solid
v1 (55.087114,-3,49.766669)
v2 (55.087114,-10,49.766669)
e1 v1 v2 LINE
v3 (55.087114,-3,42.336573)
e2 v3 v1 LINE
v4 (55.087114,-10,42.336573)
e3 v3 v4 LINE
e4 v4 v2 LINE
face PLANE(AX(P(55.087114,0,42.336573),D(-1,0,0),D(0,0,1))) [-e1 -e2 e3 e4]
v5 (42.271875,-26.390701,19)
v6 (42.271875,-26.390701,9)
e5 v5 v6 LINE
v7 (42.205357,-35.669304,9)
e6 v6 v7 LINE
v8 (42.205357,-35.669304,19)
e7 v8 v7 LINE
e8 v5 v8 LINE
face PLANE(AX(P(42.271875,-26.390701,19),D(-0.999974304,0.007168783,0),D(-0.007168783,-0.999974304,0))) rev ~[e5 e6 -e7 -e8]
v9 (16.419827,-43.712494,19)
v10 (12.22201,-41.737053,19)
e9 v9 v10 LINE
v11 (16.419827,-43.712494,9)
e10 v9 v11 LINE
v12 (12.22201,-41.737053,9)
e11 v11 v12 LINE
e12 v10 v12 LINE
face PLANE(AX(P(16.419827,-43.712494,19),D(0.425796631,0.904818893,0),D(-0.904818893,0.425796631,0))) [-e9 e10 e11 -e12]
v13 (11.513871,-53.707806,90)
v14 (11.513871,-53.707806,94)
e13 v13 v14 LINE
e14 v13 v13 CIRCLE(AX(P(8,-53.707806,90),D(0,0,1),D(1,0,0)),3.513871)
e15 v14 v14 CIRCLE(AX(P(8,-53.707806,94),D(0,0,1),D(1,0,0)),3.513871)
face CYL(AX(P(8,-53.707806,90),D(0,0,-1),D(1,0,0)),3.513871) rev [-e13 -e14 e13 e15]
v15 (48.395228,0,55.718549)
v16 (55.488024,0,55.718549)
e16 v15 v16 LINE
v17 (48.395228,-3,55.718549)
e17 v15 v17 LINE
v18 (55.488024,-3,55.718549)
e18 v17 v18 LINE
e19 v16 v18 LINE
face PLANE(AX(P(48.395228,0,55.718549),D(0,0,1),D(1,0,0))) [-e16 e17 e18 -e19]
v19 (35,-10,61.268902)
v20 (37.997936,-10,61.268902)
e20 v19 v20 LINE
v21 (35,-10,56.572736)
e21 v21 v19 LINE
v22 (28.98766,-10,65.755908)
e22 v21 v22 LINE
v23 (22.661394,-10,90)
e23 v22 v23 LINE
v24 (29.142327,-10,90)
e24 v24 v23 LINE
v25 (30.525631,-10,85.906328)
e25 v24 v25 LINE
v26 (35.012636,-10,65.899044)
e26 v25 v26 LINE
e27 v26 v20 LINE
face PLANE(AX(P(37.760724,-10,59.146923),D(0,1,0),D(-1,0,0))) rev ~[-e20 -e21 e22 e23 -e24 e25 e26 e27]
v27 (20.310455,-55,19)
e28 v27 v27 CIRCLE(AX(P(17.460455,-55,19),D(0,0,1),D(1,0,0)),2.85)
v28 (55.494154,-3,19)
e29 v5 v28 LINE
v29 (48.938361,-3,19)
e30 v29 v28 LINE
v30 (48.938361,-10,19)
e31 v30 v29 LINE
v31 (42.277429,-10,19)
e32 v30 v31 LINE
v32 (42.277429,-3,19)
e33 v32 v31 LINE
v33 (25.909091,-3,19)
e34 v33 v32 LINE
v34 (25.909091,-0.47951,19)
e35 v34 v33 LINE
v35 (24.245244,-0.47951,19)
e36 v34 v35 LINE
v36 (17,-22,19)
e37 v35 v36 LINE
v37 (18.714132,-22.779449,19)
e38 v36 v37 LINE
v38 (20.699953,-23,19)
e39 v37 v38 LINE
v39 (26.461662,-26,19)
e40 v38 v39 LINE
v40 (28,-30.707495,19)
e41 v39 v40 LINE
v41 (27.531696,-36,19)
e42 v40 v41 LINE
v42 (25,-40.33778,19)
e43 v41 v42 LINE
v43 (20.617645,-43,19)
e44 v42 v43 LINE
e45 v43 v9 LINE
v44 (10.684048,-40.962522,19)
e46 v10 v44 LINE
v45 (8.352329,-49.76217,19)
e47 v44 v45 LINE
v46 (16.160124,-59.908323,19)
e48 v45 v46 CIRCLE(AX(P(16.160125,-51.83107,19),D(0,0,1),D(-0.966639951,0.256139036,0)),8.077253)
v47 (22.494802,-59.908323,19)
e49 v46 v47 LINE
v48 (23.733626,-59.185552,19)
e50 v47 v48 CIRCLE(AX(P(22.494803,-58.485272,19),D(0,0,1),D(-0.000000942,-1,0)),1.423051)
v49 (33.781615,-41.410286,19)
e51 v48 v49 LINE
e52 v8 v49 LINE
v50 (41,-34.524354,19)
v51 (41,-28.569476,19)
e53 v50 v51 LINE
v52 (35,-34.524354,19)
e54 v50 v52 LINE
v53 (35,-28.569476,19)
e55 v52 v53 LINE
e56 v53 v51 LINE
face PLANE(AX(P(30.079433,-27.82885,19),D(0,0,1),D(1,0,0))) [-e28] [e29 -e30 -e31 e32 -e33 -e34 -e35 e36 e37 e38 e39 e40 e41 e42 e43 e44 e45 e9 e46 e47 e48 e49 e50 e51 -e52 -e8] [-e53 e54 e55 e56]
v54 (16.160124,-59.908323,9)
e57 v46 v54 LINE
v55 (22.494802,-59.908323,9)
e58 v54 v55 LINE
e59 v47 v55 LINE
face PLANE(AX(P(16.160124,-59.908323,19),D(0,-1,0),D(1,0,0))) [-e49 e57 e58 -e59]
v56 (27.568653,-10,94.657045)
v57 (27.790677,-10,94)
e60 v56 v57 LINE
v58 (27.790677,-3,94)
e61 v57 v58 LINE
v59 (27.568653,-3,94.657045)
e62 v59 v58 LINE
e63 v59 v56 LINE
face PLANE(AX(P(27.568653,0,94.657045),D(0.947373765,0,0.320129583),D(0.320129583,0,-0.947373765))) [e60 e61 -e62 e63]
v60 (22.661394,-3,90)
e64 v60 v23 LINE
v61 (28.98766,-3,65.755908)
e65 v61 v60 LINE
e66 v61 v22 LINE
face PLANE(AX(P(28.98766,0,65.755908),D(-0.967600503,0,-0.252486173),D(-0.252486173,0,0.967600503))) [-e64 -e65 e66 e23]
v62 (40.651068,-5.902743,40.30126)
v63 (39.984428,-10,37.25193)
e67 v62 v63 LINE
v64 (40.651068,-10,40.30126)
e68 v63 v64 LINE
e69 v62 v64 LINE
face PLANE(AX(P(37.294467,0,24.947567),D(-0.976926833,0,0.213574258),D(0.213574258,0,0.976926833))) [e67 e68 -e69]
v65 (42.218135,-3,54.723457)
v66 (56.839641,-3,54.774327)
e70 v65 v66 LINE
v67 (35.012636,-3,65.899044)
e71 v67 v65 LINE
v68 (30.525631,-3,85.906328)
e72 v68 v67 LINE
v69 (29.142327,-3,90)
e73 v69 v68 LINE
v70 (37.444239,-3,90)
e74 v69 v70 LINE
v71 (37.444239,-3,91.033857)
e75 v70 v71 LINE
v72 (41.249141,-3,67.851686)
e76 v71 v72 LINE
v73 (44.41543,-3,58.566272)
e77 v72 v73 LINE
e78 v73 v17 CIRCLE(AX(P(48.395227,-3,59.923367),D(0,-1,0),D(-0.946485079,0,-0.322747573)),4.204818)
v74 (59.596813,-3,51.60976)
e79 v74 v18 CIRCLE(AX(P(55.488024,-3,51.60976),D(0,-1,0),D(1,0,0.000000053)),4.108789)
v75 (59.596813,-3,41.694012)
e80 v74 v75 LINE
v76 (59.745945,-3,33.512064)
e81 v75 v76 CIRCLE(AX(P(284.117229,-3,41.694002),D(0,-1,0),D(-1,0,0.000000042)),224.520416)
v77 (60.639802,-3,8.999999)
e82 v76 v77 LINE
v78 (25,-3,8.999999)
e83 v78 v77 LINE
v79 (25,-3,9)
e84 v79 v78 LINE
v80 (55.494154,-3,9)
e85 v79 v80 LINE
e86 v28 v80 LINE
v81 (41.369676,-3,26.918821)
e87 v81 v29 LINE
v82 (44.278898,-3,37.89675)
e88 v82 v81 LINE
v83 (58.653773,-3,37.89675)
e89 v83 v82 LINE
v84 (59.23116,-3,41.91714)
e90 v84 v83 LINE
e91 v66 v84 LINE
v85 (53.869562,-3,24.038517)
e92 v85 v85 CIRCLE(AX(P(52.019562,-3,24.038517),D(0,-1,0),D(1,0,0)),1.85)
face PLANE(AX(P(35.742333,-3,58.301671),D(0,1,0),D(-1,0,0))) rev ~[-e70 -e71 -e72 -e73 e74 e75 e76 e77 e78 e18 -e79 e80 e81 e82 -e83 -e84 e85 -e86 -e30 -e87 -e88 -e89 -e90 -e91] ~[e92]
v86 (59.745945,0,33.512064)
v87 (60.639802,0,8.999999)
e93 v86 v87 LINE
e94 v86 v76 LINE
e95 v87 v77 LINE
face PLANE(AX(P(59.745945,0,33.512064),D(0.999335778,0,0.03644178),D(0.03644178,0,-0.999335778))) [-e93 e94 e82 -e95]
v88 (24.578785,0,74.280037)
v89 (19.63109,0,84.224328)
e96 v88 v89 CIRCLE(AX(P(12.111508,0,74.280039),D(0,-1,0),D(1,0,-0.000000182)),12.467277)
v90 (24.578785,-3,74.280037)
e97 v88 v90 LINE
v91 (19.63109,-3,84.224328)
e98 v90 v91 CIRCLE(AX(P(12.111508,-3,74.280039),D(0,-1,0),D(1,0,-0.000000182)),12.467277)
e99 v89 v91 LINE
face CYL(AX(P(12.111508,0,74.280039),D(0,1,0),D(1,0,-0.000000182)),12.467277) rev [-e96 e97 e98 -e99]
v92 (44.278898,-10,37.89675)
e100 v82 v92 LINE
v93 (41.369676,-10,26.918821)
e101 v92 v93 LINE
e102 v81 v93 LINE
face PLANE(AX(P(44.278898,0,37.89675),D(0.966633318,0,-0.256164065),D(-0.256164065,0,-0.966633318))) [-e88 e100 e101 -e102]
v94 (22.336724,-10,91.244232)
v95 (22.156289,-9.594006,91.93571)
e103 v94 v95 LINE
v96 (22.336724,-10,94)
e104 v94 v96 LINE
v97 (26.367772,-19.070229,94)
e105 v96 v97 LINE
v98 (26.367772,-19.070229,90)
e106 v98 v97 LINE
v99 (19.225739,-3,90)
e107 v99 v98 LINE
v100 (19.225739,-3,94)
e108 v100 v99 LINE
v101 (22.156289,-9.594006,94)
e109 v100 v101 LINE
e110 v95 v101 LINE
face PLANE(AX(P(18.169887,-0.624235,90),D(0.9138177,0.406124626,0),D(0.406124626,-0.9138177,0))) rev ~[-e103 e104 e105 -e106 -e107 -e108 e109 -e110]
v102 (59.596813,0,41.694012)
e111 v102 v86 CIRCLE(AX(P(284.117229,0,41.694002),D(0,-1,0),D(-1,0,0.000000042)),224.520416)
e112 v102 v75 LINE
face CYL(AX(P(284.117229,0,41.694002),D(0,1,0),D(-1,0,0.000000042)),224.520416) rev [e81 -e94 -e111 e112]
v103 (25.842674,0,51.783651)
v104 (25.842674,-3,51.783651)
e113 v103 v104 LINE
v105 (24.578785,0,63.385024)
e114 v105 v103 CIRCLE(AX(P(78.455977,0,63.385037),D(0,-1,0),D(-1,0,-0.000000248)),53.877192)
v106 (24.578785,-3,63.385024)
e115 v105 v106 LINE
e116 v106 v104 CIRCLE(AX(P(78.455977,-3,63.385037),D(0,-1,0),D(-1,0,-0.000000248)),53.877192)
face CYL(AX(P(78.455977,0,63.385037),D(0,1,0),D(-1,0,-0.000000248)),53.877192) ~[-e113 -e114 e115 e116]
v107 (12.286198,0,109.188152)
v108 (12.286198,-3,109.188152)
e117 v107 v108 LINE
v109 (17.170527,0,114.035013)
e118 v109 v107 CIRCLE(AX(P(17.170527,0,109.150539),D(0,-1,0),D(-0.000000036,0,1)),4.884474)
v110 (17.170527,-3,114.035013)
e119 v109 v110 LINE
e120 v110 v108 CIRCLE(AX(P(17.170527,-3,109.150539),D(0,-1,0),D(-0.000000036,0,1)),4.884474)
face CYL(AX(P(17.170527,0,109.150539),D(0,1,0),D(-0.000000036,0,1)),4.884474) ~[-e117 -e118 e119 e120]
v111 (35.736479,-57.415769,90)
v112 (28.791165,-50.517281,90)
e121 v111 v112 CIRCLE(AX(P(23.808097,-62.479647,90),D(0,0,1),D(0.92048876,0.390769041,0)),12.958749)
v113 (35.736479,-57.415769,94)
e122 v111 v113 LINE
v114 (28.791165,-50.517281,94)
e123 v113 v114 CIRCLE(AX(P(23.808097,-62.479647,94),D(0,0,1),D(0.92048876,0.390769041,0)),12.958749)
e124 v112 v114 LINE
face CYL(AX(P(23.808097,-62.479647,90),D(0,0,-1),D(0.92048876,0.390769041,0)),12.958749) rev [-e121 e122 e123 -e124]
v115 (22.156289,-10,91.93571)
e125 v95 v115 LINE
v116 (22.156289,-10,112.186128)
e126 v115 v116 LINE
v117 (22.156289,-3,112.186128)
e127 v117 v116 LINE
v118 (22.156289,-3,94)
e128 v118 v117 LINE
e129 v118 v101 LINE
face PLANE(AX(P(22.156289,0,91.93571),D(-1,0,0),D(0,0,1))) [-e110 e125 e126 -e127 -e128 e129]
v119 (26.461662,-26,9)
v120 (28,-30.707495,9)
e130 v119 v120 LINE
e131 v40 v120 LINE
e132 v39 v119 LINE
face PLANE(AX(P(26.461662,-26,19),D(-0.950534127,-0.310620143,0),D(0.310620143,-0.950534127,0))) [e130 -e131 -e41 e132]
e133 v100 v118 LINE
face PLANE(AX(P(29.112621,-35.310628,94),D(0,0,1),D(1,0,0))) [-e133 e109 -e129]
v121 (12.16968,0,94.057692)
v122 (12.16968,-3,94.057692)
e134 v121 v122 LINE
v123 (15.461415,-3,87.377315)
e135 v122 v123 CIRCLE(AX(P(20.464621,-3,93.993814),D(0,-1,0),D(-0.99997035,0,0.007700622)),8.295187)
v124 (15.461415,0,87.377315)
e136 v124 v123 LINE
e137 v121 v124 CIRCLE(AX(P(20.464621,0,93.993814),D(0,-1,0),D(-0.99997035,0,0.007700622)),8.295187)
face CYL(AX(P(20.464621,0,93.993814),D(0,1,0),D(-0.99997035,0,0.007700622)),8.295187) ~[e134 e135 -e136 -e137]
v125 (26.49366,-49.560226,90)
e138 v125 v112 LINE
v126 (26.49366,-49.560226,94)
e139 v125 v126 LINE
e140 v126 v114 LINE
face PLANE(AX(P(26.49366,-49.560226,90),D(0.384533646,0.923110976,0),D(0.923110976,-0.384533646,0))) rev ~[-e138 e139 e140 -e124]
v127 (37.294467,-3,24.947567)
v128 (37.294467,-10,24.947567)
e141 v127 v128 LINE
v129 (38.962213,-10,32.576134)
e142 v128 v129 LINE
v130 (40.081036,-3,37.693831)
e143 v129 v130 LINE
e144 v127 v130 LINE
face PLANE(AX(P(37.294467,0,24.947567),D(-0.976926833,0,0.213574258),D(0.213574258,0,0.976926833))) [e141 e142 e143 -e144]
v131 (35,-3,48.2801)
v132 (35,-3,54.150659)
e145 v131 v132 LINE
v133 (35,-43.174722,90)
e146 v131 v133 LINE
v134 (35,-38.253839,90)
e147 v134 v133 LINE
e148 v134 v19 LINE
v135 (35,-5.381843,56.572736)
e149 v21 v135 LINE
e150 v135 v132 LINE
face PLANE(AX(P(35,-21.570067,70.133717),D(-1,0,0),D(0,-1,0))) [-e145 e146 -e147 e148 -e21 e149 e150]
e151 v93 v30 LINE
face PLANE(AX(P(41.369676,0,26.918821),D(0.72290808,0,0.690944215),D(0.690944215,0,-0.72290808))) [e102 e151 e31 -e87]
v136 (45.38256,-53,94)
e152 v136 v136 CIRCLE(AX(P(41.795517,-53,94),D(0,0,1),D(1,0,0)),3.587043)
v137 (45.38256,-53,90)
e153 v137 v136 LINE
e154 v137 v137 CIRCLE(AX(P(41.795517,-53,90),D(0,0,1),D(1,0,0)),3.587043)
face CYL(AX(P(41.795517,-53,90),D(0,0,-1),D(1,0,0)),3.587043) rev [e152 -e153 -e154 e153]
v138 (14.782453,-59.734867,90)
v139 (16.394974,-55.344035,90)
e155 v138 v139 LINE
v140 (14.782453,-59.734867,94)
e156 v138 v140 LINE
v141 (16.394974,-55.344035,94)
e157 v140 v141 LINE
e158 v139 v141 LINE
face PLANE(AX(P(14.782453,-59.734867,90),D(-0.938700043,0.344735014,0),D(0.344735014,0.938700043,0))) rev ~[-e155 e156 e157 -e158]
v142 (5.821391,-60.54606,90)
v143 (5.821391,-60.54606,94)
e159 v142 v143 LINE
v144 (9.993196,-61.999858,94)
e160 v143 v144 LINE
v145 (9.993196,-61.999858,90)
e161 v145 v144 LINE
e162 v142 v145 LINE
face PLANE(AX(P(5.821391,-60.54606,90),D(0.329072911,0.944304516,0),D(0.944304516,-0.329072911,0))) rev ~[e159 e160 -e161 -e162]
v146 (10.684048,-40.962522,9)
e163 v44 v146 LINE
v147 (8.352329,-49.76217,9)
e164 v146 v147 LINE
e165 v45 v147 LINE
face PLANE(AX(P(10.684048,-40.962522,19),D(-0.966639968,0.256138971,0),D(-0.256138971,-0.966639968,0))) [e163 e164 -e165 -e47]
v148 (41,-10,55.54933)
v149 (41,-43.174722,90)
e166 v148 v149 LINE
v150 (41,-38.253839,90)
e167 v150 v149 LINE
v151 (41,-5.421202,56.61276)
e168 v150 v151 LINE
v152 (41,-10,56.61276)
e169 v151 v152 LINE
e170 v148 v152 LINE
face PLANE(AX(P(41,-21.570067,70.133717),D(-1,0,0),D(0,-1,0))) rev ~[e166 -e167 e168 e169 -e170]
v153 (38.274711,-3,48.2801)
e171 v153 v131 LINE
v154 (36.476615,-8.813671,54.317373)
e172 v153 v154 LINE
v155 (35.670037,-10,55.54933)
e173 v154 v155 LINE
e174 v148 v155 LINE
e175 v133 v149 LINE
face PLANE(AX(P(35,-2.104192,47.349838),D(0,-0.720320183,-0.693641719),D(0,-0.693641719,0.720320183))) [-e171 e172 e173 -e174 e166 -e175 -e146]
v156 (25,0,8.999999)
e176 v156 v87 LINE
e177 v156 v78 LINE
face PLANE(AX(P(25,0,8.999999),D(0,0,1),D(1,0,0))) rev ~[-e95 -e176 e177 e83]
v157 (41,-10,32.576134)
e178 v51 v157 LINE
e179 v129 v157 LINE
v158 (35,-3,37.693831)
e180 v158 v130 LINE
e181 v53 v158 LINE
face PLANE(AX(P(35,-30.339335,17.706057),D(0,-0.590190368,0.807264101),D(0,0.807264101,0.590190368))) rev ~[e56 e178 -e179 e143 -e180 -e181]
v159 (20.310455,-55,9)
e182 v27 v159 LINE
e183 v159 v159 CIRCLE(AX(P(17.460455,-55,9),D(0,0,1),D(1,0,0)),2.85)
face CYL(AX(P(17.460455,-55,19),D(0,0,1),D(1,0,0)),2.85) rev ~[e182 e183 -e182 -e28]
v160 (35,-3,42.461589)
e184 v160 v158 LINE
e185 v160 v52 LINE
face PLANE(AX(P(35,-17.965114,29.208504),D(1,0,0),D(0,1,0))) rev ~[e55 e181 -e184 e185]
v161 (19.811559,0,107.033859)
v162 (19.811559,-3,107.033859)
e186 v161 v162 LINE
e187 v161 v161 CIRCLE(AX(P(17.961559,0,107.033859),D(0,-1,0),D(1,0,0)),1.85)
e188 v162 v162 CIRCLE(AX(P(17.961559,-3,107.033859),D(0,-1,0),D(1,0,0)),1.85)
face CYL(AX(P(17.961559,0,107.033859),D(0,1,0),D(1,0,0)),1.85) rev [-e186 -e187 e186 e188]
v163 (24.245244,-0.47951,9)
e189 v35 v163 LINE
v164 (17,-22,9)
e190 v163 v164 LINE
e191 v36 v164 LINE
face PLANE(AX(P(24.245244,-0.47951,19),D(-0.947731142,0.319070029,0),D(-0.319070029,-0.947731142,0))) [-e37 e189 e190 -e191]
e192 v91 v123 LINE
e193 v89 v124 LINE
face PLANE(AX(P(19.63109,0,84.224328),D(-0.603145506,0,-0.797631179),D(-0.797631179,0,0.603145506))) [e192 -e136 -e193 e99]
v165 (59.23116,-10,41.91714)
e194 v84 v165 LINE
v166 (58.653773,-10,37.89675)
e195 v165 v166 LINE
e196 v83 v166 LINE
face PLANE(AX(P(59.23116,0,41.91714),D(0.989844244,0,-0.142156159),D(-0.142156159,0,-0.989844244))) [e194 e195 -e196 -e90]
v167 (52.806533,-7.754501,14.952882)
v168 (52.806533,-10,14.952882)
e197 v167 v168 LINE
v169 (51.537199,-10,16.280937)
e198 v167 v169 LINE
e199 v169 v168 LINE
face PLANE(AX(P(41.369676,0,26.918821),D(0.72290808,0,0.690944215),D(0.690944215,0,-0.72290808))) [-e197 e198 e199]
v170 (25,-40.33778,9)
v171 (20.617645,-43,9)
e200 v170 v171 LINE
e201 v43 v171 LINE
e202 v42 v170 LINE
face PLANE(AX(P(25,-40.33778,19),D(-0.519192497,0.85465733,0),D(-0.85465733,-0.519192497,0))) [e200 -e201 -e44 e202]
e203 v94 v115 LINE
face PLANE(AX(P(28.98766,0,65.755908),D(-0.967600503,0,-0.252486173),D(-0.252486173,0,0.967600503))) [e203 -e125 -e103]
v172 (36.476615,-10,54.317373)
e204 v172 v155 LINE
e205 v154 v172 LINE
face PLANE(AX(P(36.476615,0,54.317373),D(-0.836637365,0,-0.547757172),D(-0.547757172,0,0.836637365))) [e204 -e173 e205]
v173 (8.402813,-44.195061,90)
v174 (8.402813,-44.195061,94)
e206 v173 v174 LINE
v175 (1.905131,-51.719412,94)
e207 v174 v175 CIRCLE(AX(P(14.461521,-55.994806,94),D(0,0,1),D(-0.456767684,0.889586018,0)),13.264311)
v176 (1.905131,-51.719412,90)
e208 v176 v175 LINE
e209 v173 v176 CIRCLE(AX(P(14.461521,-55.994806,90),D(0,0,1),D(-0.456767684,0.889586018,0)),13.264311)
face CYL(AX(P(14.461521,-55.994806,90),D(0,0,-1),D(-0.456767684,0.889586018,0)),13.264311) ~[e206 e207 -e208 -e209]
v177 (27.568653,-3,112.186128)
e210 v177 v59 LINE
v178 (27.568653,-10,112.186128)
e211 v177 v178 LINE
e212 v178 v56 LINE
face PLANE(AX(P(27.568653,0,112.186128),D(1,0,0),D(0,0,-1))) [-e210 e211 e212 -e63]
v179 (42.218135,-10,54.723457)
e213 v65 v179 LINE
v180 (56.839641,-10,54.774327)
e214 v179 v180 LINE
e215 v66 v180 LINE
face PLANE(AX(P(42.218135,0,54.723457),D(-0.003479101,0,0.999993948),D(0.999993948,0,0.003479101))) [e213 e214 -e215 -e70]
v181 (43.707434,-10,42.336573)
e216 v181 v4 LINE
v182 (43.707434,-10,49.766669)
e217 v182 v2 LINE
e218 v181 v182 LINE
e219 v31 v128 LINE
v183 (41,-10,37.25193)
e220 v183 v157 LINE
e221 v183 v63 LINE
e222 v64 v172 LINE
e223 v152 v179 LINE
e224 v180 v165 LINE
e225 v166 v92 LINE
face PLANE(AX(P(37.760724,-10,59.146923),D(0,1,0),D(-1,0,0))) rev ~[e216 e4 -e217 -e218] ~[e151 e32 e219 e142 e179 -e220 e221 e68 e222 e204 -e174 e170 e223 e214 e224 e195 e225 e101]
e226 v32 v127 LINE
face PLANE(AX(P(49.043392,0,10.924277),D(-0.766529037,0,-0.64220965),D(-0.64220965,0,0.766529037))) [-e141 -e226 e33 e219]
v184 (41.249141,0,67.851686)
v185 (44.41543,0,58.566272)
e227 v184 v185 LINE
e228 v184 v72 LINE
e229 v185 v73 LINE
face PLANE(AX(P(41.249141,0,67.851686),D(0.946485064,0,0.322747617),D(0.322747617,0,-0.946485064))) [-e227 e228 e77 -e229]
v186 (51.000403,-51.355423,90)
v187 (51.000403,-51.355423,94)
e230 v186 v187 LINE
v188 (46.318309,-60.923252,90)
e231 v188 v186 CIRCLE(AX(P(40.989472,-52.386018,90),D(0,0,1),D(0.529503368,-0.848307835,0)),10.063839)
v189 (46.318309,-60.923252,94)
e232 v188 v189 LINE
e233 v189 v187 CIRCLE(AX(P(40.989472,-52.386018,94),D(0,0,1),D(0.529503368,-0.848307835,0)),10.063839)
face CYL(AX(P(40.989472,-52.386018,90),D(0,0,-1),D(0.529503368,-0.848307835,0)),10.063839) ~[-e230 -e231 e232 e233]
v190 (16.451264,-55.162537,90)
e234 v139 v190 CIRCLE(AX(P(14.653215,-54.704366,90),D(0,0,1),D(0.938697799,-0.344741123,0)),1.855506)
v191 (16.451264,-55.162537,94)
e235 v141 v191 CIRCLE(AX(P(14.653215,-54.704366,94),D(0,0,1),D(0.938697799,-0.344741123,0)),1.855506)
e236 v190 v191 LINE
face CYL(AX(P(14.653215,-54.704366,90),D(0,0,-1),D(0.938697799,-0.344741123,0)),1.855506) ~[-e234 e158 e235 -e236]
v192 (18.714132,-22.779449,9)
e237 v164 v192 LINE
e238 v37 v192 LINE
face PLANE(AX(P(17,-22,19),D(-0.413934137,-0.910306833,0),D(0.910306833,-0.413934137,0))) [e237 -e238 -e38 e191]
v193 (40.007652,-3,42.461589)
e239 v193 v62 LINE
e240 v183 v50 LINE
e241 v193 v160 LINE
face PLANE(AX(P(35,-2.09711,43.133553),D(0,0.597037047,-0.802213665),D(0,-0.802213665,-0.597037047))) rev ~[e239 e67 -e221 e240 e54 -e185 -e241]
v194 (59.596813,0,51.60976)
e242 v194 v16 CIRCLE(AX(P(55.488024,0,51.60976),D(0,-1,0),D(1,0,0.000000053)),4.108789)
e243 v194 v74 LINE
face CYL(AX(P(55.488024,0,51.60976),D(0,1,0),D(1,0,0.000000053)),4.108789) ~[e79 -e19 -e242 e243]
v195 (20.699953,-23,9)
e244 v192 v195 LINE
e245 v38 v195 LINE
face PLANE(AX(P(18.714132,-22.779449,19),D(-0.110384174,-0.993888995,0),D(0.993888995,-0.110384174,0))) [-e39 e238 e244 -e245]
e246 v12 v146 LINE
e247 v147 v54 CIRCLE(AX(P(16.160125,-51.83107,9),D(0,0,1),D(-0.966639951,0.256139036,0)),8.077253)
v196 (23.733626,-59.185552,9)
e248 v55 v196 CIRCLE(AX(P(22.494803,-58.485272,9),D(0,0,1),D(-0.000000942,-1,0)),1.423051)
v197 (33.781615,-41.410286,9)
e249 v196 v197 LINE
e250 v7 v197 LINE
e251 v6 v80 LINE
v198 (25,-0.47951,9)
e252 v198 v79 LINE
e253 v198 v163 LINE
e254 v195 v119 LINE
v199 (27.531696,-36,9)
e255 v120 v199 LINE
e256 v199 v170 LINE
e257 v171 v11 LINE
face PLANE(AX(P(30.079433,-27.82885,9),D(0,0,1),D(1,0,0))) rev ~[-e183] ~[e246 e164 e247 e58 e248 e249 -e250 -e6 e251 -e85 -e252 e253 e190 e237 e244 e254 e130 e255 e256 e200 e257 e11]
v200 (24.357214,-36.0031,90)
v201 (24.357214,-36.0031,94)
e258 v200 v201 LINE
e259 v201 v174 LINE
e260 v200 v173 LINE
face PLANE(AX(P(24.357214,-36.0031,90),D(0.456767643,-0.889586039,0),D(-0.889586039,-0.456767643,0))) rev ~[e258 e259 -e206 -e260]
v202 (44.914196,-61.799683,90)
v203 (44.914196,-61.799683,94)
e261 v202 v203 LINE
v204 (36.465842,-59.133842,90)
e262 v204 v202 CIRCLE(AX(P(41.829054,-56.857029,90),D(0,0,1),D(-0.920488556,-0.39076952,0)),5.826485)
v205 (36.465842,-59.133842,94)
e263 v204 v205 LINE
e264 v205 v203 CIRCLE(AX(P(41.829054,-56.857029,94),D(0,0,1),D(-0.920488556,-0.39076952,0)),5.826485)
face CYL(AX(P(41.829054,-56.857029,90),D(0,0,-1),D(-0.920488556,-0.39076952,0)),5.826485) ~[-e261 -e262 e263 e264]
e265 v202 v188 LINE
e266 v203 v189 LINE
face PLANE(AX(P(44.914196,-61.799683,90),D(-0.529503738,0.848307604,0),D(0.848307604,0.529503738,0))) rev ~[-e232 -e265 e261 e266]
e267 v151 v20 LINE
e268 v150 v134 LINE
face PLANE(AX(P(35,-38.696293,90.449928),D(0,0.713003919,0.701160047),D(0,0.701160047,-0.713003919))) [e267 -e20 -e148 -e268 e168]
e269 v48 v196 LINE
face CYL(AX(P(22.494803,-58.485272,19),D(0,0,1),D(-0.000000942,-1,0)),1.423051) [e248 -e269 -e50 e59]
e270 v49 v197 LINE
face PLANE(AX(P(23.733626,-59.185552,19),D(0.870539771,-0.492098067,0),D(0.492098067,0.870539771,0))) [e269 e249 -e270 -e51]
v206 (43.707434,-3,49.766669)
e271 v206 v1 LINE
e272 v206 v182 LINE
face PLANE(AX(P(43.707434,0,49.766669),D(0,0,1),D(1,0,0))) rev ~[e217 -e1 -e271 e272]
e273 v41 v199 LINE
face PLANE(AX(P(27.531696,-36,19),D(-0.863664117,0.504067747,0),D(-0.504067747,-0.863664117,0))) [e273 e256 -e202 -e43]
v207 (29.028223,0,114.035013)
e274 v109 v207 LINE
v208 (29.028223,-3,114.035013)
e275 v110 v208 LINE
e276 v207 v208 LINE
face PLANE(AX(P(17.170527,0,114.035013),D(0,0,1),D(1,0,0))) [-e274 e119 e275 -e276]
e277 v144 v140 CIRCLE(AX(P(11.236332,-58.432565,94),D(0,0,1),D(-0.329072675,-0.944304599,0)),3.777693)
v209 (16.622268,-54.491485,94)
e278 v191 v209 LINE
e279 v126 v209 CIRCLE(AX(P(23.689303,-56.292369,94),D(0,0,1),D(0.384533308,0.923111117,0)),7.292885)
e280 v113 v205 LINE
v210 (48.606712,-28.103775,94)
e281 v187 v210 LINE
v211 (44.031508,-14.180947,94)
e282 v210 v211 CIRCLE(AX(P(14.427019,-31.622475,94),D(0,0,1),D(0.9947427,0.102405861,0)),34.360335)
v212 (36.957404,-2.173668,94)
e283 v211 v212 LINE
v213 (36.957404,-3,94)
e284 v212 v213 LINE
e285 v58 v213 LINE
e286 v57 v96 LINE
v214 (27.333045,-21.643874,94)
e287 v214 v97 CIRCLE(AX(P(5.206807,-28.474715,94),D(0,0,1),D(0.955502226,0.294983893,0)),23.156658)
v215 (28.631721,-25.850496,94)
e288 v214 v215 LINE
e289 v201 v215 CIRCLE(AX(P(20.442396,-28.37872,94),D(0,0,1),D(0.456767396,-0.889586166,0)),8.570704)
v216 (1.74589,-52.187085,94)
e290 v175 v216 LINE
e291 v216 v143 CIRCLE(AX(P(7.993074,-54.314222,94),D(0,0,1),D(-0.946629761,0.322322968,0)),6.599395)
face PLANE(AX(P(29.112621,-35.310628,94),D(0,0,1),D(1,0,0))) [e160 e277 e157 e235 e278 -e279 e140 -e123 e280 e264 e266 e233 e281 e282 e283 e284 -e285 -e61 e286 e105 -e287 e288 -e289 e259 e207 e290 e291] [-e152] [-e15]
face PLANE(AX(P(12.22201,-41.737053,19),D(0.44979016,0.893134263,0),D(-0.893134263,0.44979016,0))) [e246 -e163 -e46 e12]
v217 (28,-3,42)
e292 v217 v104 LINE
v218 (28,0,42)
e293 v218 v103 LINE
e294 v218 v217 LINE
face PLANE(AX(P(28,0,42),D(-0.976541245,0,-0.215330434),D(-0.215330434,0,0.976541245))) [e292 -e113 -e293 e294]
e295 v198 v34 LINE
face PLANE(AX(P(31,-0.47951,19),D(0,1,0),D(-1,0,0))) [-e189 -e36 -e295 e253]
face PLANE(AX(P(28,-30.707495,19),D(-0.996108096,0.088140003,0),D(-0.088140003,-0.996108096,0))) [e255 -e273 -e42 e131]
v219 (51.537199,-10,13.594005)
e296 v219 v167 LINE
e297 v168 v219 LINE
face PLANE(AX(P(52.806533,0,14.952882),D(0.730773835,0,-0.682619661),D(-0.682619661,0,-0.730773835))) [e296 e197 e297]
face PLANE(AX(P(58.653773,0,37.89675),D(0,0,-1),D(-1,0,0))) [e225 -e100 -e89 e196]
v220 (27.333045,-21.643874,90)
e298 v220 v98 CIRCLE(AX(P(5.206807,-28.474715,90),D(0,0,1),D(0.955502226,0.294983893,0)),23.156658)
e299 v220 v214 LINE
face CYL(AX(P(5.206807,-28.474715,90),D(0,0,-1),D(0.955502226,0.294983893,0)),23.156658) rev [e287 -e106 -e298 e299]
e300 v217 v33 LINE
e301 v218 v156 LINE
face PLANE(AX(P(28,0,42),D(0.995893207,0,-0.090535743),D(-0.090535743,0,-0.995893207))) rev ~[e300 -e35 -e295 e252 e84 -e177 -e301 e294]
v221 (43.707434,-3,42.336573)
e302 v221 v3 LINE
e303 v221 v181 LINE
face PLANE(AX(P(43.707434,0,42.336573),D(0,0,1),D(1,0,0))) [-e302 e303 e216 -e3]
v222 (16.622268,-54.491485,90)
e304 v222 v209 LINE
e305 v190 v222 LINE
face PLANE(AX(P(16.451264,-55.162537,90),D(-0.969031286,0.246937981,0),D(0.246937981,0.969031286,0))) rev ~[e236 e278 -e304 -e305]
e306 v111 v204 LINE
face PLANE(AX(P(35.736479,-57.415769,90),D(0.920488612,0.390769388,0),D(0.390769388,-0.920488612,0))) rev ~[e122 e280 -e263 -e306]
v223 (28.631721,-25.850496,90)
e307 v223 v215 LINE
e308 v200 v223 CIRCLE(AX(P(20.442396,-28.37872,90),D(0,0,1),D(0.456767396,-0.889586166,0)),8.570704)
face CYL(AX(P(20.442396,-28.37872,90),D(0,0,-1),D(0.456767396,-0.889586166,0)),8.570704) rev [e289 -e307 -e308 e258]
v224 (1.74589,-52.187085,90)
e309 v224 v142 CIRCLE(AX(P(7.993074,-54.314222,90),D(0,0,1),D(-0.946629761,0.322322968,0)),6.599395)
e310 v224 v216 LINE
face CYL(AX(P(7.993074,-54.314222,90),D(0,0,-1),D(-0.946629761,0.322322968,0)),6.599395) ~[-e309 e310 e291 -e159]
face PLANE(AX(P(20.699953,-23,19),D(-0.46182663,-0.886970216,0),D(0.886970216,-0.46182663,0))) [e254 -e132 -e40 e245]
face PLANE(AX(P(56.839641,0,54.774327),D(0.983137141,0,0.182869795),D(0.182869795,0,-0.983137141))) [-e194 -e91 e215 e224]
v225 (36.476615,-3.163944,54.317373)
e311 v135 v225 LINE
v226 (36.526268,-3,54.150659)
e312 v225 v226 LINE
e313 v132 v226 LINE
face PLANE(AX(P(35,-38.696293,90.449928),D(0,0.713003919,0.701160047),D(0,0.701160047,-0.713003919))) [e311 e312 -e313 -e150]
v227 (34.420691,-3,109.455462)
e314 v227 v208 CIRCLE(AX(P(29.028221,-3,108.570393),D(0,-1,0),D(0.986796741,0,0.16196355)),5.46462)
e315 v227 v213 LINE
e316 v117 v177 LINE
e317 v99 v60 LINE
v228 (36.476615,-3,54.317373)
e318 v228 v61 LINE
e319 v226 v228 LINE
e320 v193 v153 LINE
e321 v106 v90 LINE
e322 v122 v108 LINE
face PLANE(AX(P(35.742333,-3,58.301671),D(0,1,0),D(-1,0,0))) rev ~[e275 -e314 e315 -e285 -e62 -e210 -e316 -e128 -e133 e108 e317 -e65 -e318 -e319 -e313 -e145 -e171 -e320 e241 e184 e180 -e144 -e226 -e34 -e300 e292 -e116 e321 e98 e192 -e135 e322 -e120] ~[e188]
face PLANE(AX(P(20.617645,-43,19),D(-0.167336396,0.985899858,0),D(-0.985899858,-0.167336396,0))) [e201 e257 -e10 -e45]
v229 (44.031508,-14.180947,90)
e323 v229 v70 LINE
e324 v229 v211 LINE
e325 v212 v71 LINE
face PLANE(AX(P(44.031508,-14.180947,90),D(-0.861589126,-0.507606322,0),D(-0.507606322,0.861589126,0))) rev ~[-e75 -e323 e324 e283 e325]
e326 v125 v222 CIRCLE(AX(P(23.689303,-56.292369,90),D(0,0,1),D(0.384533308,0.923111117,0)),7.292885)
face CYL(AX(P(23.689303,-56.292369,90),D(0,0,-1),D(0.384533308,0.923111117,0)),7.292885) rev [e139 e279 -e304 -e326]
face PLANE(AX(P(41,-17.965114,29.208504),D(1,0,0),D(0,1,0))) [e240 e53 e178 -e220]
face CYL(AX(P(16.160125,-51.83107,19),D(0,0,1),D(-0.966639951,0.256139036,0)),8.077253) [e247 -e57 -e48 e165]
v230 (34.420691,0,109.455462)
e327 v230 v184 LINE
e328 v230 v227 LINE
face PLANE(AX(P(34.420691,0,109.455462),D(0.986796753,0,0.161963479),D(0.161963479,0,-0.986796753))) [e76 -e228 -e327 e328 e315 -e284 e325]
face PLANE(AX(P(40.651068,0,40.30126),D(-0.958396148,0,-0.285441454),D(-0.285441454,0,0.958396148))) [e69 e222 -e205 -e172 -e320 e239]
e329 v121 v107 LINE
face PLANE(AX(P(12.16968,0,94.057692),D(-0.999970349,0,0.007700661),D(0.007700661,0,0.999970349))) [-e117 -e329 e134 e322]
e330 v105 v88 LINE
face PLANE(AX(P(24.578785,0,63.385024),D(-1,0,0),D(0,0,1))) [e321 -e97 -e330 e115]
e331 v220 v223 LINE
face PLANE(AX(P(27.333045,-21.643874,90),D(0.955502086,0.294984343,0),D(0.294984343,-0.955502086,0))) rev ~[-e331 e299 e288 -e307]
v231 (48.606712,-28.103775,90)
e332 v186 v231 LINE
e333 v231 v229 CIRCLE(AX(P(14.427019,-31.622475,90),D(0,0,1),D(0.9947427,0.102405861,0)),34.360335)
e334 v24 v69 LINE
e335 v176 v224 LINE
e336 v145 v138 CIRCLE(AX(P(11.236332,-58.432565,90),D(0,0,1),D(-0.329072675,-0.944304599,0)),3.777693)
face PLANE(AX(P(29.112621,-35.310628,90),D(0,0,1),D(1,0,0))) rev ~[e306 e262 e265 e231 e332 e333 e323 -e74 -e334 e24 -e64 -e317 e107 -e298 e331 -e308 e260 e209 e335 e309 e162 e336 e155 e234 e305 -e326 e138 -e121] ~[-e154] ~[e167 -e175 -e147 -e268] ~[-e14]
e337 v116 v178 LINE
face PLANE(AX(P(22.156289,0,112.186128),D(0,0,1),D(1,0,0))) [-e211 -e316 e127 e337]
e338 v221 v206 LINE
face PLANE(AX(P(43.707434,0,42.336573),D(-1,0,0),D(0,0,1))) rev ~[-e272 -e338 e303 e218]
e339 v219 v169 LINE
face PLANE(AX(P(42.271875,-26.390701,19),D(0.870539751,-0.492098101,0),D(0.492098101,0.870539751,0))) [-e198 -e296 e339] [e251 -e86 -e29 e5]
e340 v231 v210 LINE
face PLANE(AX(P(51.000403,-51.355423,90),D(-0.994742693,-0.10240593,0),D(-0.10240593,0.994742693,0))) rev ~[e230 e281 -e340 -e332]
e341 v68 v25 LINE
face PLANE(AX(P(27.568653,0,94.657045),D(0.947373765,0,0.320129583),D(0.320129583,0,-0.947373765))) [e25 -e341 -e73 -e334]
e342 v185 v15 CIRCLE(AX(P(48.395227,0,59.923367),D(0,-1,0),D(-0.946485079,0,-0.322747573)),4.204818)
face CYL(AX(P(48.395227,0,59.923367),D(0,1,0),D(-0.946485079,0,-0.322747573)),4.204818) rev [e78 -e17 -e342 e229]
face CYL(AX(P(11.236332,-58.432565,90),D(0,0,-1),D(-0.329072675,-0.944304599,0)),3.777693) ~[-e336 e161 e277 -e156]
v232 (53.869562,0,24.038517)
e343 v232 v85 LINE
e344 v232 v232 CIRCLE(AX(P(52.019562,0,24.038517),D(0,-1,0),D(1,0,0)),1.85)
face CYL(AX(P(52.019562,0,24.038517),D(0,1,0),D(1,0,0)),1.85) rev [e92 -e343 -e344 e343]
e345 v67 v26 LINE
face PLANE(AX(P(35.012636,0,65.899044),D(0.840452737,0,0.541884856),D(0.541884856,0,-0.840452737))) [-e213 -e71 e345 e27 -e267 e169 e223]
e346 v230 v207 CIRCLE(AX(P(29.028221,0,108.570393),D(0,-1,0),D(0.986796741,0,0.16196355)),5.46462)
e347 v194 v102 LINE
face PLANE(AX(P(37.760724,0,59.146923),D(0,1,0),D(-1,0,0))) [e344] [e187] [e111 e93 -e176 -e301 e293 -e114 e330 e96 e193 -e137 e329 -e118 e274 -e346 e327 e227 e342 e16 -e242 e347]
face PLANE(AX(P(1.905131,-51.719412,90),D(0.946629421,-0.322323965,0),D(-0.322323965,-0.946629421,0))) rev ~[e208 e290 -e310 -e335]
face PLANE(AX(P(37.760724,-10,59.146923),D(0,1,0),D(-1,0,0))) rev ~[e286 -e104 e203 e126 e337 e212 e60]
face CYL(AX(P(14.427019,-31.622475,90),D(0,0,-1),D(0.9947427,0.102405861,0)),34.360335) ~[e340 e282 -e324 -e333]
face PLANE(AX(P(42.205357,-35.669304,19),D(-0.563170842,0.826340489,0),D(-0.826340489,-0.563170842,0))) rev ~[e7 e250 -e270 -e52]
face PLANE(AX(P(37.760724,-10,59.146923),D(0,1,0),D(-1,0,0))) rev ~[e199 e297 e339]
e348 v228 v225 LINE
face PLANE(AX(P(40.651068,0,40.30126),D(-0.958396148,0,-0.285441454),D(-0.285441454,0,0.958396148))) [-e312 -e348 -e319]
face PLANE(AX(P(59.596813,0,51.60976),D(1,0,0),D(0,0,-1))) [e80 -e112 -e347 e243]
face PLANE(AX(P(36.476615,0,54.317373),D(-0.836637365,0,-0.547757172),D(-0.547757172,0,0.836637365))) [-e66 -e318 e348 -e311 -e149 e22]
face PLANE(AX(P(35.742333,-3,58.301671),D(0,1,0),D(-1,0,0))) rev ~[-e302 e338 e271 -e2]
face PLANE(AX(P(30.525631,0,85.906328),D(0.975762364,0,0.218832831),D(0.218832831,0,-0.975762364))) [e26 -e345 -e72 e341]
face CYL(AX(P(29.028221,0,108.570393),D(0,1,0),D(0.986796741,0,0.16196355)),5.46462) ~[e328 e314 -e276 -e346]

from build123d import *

# Parameters (mm, degrees)
SKETCH_R      = 1.85
PAD_DEPTH     = 3
SKETCH812_R   = 2.85
PAD348_DEPTH  = 10
SKETCH813_R   = 3.513871
SKETCH813_R_2 = 3.587043
PAD349_DEPTH  = 4
SKETCH821_W   = 11.37968
SKETCH821_H   = 7.430097
PAD355_DEPTH  = 10
PAD363_DEPTH  = 6


with BuildPart() as part:
    # Sketch → Pad (new body)
    with BuildSketch(Plane.XZ):
        with BuildLine():
            Line((17.170527, 114.035013), (29.028223, 114.035013))
            ThreePointArc((34.420691, 109.455462), (32.565559, 112.735644), (29.028223, 114.035013))
            Line((34.420691, 109.455462), (41.249141, 67.851686))
            Line((41.249141, 67.851686), (44.41543, 58.566272))
            ThreePointArc((44.41543, 58.566272), (45.948377, 56.503803), (48.395228, 55.718549))
            Line((48.395228, 55.718549), (55.488024, 55.718549))
            ThreePointArc((59.596813, 51.60976), (58.393377, 54.515112), (55.488024, 55.718549))
            Line((59.596813, 51.60976), (59.596813, 41.694012))
            ThreePointArc((59.596813, 41.694012), (59.634099, 37.602359), (59.745945, 33.512064))
            Line((59.745945, 33.512064), (60.639802, 8.999999))
            Line((25, 8.999999), (60.639802, 8.999999))
            Line((28, 42), (25, 8.999999))
            Line((28, 42), (25.842674, 51.783651))
            ThreePointArc((24.578785, 63.385024), (24.89569, 57.550016), (25.842674, 51.783651))
            Line((24.578785, 63.385024), (24.578785, 74.280037))
            ThreePointArc((24.578785, 74.280037), (23.273536, 79.833608), (19.63109, 84.224328))
            Line((19.63109, 84.224328), (15.461415, 87.377315))
            ThreePointArc((12.16968, 94.057692), (13.023718, 90.327332), (15.461415, 87.377315))
            Line((12.16968, 94.057692), (12.286198, 109.188152))
            ThreePointArc((17.170527, 114.035013), (13.730006, 112.617656), (12.286198, 109.188152))
        make_face()
        with Locations((17.961559, 107.033859)):
            Circle(SKETCH_R, mode=Mode.SUBTRACT)
        with Locations((52.019562, 24.038517)):
            Circle(SKETCH_R, mode=Mode.SUBTRACT)
    extrude(amount=PAD_DEPTH)

    # Sketch812 → Pad348 (join)
    with BuildSketch(Plane.XY.offset(19)):
        with BuildLine():
            Line((35.385866, -0.616313), (31, -0.47951))
            Line((31, -0.47951), (24.245244, -0.47951))
            Line((24.245244, -0.47951), (17, -22))
            Line((17, -22), (18.714132, -22.779449))
            Line((18.714132, -22.779449), (20.699953, -23))
            Line((20.699953, -23), (26.461662, -26))
            Line((26.461662, -26), (28, -30.707495))
            Line((28, -30.707495), (27.531696, -36))
            Line((27.531696, -36), (25, -40.33778))
            Line((25, -40.33778), (20.617645, -43))
            Line((20.617645, -43), (16.419827, -43.712494))
            Line((16.419827, -43.712494), (12.22201, -41.737053))
            Line((12.22201, -41.737053), (10.684048, -40.962522))
            Line((10.684048, -40.962522), (8.352329, -49.76217))
            ThreePointArc((8.352329, -49.76217), (9.758834, -56.757072), (16.160124, -59.908323))
            Line((16.160124, -59.908323), (22.494802, -59.908323))
            ThreePointArc((22.494802, -59.908323), (23.211929, -59.71442), (23.733626, -59.185552))
            Line((23.733626, -59.185552), (33.781615, -41.410286))
            Line((42.205357, -35.669304), (33.781615, -41.410286))
            Line((42.271875, -26.390701), (42.205357, -35.669304))
            Line((42.271875, -26.390701), (56.841603, -0.616313))
            Line((56.841603, -0.616313), (35.385866, -0.616313))
        make_face()
        with Locations((17.460455, -55)):
            Circle(SKETCH812_R, mode=Mode.SUBTRACT)
    extrude(amount=-PAD348_DEPTH)

    # Sketch813 → Pad349 (join)
    with BuildSketch(Plane.XY.offset(90)):
        with BuildLine():
            Line((18.169887, -0.624235), (26.367772, -19.070229))
            ThreePointArc((27.333045, -21.643874), (26.888629, -20.342717), (26.367772, -19.070229))
            Line((27.333045, -21.643874), (28.631721, -25.850496))
            ThreePointArc((24.357214, -36.0031), (28.341536, -31.704461), (28.631721, -25.850496))
            Line((24.357214, -36.0031), (8.402813, -44.195061))
            ThreePointArc((8.402813, -44.195061), (4.422376, -47.325464), (1.905131, -51.719412))
            Line((1.905131, -51.719412), (1.74589, -52.187085))
            ThreePointArc((1.74589, -52.187085), (2.061173, -57.206378), (5.821391, -60.54606))
            Line((5.821391, -60.54606), (9.993196, -61.999858))
            ThreePointArc((9.993196, -61.999858), (12.851411, -61.847603), (14.782453, -59.734867))
            Line((14.782453, -59.734867), (16.394974, -55.344035))
            ThreePointArc((16.394974, -55.344035), (16.425444, -55.254007), (16.451264, -55.162537))
            Line((16.451264, -55.162537), (16.622268, -54.491485))
            ThreePointArc((26.49366, -49.560226), (20.430172, -49.768242), (16.622268, -54.491485))
            Line((26.49366, -49.560226), (28.791165, -50.517281))
            ThreePointArc((35.736479, -57.415769), (32.940269, -53.285486), (28.791165, -50.517281))
            Line((35.736479, -57.415769), (36.465842, -59.133842))
            ThreePointArc((36.465842, -59.133842), (40.075749, -62.413453), (44.914196, -61.799683))
            Line((44.914196, -61.799683), (46.318309, -60.923252))
            ThreePointArc((46.318309, -60.923252), (50.028994, -56.809581), (51.000403, -51.355423))
            Line((51.000403, -51.355423), (48.606712, -28.103775))
            ThreePointArc((48.606712, -28.103775), (47.070039, -20.895597), (44.031508, -14.180947))
            Line((44.031508, -14.180947), (36.044554, -0.624235))
            Line((36.044554, -0.624235), (18.169887, -0.624235))
        make_face()
        with Locations((8, -53.707806)):
            Circle(SKETCH813_R, mode=Mode.SUBTRACT)
        with Locations((41.795517, -53)):
            Circle(SKETCH813_R_2, mode=Mode.SUBTRACT)
    extrude(amount=PAD349_DEPTH)

    # Sketch821 → Pad355 (join)
    with BuildSketch(Plane.XZ):
        Polygon((22.156289, 112.186128), (27.568653, 112.186128), (27.568653, 94.657045), (30.525631, 85.906328), (35.012636, 65.899044), (42.218135, 54.723457), (56.839641, 54.774327), (59.23116, 41.91714), (58.653773, 37.89675), (44.278898, 37.89675), (41.369676, 26.918821), (52.806533, 14.952882), (49.043392, 10.924277), (37.294467, 24.947567), (40.651068, 40.30126), (36.476615, 54.317373), (28.98766, 65.755908), (22.156289, 91.93571), align=None)
        with Locations((49.397274, 46.051621)):
            Rectangle(SKETCH821_W, SKETCH821_H, mode=Mode.SUBTRACT)
    extrude(amount=PAD355_DEPTH)

    # Sketch840 → Pad363 (join)
    with BuildSketch(Plane.YZ.offset(35)):
        Polygon((-43.607986, 90.449928), (-38.696293, 90.449928), (-2.349776, 53.489452), (-2.104192, 47.349838), align=None)
        Polygon((-36.262971, 17.706057), (-30.339335, 17.706057), (-1.605939, 38.713028), (-2.09711, 43.133553), align=None)
    extrude(amount=PAD363_DEPTH)


solid = part.part
